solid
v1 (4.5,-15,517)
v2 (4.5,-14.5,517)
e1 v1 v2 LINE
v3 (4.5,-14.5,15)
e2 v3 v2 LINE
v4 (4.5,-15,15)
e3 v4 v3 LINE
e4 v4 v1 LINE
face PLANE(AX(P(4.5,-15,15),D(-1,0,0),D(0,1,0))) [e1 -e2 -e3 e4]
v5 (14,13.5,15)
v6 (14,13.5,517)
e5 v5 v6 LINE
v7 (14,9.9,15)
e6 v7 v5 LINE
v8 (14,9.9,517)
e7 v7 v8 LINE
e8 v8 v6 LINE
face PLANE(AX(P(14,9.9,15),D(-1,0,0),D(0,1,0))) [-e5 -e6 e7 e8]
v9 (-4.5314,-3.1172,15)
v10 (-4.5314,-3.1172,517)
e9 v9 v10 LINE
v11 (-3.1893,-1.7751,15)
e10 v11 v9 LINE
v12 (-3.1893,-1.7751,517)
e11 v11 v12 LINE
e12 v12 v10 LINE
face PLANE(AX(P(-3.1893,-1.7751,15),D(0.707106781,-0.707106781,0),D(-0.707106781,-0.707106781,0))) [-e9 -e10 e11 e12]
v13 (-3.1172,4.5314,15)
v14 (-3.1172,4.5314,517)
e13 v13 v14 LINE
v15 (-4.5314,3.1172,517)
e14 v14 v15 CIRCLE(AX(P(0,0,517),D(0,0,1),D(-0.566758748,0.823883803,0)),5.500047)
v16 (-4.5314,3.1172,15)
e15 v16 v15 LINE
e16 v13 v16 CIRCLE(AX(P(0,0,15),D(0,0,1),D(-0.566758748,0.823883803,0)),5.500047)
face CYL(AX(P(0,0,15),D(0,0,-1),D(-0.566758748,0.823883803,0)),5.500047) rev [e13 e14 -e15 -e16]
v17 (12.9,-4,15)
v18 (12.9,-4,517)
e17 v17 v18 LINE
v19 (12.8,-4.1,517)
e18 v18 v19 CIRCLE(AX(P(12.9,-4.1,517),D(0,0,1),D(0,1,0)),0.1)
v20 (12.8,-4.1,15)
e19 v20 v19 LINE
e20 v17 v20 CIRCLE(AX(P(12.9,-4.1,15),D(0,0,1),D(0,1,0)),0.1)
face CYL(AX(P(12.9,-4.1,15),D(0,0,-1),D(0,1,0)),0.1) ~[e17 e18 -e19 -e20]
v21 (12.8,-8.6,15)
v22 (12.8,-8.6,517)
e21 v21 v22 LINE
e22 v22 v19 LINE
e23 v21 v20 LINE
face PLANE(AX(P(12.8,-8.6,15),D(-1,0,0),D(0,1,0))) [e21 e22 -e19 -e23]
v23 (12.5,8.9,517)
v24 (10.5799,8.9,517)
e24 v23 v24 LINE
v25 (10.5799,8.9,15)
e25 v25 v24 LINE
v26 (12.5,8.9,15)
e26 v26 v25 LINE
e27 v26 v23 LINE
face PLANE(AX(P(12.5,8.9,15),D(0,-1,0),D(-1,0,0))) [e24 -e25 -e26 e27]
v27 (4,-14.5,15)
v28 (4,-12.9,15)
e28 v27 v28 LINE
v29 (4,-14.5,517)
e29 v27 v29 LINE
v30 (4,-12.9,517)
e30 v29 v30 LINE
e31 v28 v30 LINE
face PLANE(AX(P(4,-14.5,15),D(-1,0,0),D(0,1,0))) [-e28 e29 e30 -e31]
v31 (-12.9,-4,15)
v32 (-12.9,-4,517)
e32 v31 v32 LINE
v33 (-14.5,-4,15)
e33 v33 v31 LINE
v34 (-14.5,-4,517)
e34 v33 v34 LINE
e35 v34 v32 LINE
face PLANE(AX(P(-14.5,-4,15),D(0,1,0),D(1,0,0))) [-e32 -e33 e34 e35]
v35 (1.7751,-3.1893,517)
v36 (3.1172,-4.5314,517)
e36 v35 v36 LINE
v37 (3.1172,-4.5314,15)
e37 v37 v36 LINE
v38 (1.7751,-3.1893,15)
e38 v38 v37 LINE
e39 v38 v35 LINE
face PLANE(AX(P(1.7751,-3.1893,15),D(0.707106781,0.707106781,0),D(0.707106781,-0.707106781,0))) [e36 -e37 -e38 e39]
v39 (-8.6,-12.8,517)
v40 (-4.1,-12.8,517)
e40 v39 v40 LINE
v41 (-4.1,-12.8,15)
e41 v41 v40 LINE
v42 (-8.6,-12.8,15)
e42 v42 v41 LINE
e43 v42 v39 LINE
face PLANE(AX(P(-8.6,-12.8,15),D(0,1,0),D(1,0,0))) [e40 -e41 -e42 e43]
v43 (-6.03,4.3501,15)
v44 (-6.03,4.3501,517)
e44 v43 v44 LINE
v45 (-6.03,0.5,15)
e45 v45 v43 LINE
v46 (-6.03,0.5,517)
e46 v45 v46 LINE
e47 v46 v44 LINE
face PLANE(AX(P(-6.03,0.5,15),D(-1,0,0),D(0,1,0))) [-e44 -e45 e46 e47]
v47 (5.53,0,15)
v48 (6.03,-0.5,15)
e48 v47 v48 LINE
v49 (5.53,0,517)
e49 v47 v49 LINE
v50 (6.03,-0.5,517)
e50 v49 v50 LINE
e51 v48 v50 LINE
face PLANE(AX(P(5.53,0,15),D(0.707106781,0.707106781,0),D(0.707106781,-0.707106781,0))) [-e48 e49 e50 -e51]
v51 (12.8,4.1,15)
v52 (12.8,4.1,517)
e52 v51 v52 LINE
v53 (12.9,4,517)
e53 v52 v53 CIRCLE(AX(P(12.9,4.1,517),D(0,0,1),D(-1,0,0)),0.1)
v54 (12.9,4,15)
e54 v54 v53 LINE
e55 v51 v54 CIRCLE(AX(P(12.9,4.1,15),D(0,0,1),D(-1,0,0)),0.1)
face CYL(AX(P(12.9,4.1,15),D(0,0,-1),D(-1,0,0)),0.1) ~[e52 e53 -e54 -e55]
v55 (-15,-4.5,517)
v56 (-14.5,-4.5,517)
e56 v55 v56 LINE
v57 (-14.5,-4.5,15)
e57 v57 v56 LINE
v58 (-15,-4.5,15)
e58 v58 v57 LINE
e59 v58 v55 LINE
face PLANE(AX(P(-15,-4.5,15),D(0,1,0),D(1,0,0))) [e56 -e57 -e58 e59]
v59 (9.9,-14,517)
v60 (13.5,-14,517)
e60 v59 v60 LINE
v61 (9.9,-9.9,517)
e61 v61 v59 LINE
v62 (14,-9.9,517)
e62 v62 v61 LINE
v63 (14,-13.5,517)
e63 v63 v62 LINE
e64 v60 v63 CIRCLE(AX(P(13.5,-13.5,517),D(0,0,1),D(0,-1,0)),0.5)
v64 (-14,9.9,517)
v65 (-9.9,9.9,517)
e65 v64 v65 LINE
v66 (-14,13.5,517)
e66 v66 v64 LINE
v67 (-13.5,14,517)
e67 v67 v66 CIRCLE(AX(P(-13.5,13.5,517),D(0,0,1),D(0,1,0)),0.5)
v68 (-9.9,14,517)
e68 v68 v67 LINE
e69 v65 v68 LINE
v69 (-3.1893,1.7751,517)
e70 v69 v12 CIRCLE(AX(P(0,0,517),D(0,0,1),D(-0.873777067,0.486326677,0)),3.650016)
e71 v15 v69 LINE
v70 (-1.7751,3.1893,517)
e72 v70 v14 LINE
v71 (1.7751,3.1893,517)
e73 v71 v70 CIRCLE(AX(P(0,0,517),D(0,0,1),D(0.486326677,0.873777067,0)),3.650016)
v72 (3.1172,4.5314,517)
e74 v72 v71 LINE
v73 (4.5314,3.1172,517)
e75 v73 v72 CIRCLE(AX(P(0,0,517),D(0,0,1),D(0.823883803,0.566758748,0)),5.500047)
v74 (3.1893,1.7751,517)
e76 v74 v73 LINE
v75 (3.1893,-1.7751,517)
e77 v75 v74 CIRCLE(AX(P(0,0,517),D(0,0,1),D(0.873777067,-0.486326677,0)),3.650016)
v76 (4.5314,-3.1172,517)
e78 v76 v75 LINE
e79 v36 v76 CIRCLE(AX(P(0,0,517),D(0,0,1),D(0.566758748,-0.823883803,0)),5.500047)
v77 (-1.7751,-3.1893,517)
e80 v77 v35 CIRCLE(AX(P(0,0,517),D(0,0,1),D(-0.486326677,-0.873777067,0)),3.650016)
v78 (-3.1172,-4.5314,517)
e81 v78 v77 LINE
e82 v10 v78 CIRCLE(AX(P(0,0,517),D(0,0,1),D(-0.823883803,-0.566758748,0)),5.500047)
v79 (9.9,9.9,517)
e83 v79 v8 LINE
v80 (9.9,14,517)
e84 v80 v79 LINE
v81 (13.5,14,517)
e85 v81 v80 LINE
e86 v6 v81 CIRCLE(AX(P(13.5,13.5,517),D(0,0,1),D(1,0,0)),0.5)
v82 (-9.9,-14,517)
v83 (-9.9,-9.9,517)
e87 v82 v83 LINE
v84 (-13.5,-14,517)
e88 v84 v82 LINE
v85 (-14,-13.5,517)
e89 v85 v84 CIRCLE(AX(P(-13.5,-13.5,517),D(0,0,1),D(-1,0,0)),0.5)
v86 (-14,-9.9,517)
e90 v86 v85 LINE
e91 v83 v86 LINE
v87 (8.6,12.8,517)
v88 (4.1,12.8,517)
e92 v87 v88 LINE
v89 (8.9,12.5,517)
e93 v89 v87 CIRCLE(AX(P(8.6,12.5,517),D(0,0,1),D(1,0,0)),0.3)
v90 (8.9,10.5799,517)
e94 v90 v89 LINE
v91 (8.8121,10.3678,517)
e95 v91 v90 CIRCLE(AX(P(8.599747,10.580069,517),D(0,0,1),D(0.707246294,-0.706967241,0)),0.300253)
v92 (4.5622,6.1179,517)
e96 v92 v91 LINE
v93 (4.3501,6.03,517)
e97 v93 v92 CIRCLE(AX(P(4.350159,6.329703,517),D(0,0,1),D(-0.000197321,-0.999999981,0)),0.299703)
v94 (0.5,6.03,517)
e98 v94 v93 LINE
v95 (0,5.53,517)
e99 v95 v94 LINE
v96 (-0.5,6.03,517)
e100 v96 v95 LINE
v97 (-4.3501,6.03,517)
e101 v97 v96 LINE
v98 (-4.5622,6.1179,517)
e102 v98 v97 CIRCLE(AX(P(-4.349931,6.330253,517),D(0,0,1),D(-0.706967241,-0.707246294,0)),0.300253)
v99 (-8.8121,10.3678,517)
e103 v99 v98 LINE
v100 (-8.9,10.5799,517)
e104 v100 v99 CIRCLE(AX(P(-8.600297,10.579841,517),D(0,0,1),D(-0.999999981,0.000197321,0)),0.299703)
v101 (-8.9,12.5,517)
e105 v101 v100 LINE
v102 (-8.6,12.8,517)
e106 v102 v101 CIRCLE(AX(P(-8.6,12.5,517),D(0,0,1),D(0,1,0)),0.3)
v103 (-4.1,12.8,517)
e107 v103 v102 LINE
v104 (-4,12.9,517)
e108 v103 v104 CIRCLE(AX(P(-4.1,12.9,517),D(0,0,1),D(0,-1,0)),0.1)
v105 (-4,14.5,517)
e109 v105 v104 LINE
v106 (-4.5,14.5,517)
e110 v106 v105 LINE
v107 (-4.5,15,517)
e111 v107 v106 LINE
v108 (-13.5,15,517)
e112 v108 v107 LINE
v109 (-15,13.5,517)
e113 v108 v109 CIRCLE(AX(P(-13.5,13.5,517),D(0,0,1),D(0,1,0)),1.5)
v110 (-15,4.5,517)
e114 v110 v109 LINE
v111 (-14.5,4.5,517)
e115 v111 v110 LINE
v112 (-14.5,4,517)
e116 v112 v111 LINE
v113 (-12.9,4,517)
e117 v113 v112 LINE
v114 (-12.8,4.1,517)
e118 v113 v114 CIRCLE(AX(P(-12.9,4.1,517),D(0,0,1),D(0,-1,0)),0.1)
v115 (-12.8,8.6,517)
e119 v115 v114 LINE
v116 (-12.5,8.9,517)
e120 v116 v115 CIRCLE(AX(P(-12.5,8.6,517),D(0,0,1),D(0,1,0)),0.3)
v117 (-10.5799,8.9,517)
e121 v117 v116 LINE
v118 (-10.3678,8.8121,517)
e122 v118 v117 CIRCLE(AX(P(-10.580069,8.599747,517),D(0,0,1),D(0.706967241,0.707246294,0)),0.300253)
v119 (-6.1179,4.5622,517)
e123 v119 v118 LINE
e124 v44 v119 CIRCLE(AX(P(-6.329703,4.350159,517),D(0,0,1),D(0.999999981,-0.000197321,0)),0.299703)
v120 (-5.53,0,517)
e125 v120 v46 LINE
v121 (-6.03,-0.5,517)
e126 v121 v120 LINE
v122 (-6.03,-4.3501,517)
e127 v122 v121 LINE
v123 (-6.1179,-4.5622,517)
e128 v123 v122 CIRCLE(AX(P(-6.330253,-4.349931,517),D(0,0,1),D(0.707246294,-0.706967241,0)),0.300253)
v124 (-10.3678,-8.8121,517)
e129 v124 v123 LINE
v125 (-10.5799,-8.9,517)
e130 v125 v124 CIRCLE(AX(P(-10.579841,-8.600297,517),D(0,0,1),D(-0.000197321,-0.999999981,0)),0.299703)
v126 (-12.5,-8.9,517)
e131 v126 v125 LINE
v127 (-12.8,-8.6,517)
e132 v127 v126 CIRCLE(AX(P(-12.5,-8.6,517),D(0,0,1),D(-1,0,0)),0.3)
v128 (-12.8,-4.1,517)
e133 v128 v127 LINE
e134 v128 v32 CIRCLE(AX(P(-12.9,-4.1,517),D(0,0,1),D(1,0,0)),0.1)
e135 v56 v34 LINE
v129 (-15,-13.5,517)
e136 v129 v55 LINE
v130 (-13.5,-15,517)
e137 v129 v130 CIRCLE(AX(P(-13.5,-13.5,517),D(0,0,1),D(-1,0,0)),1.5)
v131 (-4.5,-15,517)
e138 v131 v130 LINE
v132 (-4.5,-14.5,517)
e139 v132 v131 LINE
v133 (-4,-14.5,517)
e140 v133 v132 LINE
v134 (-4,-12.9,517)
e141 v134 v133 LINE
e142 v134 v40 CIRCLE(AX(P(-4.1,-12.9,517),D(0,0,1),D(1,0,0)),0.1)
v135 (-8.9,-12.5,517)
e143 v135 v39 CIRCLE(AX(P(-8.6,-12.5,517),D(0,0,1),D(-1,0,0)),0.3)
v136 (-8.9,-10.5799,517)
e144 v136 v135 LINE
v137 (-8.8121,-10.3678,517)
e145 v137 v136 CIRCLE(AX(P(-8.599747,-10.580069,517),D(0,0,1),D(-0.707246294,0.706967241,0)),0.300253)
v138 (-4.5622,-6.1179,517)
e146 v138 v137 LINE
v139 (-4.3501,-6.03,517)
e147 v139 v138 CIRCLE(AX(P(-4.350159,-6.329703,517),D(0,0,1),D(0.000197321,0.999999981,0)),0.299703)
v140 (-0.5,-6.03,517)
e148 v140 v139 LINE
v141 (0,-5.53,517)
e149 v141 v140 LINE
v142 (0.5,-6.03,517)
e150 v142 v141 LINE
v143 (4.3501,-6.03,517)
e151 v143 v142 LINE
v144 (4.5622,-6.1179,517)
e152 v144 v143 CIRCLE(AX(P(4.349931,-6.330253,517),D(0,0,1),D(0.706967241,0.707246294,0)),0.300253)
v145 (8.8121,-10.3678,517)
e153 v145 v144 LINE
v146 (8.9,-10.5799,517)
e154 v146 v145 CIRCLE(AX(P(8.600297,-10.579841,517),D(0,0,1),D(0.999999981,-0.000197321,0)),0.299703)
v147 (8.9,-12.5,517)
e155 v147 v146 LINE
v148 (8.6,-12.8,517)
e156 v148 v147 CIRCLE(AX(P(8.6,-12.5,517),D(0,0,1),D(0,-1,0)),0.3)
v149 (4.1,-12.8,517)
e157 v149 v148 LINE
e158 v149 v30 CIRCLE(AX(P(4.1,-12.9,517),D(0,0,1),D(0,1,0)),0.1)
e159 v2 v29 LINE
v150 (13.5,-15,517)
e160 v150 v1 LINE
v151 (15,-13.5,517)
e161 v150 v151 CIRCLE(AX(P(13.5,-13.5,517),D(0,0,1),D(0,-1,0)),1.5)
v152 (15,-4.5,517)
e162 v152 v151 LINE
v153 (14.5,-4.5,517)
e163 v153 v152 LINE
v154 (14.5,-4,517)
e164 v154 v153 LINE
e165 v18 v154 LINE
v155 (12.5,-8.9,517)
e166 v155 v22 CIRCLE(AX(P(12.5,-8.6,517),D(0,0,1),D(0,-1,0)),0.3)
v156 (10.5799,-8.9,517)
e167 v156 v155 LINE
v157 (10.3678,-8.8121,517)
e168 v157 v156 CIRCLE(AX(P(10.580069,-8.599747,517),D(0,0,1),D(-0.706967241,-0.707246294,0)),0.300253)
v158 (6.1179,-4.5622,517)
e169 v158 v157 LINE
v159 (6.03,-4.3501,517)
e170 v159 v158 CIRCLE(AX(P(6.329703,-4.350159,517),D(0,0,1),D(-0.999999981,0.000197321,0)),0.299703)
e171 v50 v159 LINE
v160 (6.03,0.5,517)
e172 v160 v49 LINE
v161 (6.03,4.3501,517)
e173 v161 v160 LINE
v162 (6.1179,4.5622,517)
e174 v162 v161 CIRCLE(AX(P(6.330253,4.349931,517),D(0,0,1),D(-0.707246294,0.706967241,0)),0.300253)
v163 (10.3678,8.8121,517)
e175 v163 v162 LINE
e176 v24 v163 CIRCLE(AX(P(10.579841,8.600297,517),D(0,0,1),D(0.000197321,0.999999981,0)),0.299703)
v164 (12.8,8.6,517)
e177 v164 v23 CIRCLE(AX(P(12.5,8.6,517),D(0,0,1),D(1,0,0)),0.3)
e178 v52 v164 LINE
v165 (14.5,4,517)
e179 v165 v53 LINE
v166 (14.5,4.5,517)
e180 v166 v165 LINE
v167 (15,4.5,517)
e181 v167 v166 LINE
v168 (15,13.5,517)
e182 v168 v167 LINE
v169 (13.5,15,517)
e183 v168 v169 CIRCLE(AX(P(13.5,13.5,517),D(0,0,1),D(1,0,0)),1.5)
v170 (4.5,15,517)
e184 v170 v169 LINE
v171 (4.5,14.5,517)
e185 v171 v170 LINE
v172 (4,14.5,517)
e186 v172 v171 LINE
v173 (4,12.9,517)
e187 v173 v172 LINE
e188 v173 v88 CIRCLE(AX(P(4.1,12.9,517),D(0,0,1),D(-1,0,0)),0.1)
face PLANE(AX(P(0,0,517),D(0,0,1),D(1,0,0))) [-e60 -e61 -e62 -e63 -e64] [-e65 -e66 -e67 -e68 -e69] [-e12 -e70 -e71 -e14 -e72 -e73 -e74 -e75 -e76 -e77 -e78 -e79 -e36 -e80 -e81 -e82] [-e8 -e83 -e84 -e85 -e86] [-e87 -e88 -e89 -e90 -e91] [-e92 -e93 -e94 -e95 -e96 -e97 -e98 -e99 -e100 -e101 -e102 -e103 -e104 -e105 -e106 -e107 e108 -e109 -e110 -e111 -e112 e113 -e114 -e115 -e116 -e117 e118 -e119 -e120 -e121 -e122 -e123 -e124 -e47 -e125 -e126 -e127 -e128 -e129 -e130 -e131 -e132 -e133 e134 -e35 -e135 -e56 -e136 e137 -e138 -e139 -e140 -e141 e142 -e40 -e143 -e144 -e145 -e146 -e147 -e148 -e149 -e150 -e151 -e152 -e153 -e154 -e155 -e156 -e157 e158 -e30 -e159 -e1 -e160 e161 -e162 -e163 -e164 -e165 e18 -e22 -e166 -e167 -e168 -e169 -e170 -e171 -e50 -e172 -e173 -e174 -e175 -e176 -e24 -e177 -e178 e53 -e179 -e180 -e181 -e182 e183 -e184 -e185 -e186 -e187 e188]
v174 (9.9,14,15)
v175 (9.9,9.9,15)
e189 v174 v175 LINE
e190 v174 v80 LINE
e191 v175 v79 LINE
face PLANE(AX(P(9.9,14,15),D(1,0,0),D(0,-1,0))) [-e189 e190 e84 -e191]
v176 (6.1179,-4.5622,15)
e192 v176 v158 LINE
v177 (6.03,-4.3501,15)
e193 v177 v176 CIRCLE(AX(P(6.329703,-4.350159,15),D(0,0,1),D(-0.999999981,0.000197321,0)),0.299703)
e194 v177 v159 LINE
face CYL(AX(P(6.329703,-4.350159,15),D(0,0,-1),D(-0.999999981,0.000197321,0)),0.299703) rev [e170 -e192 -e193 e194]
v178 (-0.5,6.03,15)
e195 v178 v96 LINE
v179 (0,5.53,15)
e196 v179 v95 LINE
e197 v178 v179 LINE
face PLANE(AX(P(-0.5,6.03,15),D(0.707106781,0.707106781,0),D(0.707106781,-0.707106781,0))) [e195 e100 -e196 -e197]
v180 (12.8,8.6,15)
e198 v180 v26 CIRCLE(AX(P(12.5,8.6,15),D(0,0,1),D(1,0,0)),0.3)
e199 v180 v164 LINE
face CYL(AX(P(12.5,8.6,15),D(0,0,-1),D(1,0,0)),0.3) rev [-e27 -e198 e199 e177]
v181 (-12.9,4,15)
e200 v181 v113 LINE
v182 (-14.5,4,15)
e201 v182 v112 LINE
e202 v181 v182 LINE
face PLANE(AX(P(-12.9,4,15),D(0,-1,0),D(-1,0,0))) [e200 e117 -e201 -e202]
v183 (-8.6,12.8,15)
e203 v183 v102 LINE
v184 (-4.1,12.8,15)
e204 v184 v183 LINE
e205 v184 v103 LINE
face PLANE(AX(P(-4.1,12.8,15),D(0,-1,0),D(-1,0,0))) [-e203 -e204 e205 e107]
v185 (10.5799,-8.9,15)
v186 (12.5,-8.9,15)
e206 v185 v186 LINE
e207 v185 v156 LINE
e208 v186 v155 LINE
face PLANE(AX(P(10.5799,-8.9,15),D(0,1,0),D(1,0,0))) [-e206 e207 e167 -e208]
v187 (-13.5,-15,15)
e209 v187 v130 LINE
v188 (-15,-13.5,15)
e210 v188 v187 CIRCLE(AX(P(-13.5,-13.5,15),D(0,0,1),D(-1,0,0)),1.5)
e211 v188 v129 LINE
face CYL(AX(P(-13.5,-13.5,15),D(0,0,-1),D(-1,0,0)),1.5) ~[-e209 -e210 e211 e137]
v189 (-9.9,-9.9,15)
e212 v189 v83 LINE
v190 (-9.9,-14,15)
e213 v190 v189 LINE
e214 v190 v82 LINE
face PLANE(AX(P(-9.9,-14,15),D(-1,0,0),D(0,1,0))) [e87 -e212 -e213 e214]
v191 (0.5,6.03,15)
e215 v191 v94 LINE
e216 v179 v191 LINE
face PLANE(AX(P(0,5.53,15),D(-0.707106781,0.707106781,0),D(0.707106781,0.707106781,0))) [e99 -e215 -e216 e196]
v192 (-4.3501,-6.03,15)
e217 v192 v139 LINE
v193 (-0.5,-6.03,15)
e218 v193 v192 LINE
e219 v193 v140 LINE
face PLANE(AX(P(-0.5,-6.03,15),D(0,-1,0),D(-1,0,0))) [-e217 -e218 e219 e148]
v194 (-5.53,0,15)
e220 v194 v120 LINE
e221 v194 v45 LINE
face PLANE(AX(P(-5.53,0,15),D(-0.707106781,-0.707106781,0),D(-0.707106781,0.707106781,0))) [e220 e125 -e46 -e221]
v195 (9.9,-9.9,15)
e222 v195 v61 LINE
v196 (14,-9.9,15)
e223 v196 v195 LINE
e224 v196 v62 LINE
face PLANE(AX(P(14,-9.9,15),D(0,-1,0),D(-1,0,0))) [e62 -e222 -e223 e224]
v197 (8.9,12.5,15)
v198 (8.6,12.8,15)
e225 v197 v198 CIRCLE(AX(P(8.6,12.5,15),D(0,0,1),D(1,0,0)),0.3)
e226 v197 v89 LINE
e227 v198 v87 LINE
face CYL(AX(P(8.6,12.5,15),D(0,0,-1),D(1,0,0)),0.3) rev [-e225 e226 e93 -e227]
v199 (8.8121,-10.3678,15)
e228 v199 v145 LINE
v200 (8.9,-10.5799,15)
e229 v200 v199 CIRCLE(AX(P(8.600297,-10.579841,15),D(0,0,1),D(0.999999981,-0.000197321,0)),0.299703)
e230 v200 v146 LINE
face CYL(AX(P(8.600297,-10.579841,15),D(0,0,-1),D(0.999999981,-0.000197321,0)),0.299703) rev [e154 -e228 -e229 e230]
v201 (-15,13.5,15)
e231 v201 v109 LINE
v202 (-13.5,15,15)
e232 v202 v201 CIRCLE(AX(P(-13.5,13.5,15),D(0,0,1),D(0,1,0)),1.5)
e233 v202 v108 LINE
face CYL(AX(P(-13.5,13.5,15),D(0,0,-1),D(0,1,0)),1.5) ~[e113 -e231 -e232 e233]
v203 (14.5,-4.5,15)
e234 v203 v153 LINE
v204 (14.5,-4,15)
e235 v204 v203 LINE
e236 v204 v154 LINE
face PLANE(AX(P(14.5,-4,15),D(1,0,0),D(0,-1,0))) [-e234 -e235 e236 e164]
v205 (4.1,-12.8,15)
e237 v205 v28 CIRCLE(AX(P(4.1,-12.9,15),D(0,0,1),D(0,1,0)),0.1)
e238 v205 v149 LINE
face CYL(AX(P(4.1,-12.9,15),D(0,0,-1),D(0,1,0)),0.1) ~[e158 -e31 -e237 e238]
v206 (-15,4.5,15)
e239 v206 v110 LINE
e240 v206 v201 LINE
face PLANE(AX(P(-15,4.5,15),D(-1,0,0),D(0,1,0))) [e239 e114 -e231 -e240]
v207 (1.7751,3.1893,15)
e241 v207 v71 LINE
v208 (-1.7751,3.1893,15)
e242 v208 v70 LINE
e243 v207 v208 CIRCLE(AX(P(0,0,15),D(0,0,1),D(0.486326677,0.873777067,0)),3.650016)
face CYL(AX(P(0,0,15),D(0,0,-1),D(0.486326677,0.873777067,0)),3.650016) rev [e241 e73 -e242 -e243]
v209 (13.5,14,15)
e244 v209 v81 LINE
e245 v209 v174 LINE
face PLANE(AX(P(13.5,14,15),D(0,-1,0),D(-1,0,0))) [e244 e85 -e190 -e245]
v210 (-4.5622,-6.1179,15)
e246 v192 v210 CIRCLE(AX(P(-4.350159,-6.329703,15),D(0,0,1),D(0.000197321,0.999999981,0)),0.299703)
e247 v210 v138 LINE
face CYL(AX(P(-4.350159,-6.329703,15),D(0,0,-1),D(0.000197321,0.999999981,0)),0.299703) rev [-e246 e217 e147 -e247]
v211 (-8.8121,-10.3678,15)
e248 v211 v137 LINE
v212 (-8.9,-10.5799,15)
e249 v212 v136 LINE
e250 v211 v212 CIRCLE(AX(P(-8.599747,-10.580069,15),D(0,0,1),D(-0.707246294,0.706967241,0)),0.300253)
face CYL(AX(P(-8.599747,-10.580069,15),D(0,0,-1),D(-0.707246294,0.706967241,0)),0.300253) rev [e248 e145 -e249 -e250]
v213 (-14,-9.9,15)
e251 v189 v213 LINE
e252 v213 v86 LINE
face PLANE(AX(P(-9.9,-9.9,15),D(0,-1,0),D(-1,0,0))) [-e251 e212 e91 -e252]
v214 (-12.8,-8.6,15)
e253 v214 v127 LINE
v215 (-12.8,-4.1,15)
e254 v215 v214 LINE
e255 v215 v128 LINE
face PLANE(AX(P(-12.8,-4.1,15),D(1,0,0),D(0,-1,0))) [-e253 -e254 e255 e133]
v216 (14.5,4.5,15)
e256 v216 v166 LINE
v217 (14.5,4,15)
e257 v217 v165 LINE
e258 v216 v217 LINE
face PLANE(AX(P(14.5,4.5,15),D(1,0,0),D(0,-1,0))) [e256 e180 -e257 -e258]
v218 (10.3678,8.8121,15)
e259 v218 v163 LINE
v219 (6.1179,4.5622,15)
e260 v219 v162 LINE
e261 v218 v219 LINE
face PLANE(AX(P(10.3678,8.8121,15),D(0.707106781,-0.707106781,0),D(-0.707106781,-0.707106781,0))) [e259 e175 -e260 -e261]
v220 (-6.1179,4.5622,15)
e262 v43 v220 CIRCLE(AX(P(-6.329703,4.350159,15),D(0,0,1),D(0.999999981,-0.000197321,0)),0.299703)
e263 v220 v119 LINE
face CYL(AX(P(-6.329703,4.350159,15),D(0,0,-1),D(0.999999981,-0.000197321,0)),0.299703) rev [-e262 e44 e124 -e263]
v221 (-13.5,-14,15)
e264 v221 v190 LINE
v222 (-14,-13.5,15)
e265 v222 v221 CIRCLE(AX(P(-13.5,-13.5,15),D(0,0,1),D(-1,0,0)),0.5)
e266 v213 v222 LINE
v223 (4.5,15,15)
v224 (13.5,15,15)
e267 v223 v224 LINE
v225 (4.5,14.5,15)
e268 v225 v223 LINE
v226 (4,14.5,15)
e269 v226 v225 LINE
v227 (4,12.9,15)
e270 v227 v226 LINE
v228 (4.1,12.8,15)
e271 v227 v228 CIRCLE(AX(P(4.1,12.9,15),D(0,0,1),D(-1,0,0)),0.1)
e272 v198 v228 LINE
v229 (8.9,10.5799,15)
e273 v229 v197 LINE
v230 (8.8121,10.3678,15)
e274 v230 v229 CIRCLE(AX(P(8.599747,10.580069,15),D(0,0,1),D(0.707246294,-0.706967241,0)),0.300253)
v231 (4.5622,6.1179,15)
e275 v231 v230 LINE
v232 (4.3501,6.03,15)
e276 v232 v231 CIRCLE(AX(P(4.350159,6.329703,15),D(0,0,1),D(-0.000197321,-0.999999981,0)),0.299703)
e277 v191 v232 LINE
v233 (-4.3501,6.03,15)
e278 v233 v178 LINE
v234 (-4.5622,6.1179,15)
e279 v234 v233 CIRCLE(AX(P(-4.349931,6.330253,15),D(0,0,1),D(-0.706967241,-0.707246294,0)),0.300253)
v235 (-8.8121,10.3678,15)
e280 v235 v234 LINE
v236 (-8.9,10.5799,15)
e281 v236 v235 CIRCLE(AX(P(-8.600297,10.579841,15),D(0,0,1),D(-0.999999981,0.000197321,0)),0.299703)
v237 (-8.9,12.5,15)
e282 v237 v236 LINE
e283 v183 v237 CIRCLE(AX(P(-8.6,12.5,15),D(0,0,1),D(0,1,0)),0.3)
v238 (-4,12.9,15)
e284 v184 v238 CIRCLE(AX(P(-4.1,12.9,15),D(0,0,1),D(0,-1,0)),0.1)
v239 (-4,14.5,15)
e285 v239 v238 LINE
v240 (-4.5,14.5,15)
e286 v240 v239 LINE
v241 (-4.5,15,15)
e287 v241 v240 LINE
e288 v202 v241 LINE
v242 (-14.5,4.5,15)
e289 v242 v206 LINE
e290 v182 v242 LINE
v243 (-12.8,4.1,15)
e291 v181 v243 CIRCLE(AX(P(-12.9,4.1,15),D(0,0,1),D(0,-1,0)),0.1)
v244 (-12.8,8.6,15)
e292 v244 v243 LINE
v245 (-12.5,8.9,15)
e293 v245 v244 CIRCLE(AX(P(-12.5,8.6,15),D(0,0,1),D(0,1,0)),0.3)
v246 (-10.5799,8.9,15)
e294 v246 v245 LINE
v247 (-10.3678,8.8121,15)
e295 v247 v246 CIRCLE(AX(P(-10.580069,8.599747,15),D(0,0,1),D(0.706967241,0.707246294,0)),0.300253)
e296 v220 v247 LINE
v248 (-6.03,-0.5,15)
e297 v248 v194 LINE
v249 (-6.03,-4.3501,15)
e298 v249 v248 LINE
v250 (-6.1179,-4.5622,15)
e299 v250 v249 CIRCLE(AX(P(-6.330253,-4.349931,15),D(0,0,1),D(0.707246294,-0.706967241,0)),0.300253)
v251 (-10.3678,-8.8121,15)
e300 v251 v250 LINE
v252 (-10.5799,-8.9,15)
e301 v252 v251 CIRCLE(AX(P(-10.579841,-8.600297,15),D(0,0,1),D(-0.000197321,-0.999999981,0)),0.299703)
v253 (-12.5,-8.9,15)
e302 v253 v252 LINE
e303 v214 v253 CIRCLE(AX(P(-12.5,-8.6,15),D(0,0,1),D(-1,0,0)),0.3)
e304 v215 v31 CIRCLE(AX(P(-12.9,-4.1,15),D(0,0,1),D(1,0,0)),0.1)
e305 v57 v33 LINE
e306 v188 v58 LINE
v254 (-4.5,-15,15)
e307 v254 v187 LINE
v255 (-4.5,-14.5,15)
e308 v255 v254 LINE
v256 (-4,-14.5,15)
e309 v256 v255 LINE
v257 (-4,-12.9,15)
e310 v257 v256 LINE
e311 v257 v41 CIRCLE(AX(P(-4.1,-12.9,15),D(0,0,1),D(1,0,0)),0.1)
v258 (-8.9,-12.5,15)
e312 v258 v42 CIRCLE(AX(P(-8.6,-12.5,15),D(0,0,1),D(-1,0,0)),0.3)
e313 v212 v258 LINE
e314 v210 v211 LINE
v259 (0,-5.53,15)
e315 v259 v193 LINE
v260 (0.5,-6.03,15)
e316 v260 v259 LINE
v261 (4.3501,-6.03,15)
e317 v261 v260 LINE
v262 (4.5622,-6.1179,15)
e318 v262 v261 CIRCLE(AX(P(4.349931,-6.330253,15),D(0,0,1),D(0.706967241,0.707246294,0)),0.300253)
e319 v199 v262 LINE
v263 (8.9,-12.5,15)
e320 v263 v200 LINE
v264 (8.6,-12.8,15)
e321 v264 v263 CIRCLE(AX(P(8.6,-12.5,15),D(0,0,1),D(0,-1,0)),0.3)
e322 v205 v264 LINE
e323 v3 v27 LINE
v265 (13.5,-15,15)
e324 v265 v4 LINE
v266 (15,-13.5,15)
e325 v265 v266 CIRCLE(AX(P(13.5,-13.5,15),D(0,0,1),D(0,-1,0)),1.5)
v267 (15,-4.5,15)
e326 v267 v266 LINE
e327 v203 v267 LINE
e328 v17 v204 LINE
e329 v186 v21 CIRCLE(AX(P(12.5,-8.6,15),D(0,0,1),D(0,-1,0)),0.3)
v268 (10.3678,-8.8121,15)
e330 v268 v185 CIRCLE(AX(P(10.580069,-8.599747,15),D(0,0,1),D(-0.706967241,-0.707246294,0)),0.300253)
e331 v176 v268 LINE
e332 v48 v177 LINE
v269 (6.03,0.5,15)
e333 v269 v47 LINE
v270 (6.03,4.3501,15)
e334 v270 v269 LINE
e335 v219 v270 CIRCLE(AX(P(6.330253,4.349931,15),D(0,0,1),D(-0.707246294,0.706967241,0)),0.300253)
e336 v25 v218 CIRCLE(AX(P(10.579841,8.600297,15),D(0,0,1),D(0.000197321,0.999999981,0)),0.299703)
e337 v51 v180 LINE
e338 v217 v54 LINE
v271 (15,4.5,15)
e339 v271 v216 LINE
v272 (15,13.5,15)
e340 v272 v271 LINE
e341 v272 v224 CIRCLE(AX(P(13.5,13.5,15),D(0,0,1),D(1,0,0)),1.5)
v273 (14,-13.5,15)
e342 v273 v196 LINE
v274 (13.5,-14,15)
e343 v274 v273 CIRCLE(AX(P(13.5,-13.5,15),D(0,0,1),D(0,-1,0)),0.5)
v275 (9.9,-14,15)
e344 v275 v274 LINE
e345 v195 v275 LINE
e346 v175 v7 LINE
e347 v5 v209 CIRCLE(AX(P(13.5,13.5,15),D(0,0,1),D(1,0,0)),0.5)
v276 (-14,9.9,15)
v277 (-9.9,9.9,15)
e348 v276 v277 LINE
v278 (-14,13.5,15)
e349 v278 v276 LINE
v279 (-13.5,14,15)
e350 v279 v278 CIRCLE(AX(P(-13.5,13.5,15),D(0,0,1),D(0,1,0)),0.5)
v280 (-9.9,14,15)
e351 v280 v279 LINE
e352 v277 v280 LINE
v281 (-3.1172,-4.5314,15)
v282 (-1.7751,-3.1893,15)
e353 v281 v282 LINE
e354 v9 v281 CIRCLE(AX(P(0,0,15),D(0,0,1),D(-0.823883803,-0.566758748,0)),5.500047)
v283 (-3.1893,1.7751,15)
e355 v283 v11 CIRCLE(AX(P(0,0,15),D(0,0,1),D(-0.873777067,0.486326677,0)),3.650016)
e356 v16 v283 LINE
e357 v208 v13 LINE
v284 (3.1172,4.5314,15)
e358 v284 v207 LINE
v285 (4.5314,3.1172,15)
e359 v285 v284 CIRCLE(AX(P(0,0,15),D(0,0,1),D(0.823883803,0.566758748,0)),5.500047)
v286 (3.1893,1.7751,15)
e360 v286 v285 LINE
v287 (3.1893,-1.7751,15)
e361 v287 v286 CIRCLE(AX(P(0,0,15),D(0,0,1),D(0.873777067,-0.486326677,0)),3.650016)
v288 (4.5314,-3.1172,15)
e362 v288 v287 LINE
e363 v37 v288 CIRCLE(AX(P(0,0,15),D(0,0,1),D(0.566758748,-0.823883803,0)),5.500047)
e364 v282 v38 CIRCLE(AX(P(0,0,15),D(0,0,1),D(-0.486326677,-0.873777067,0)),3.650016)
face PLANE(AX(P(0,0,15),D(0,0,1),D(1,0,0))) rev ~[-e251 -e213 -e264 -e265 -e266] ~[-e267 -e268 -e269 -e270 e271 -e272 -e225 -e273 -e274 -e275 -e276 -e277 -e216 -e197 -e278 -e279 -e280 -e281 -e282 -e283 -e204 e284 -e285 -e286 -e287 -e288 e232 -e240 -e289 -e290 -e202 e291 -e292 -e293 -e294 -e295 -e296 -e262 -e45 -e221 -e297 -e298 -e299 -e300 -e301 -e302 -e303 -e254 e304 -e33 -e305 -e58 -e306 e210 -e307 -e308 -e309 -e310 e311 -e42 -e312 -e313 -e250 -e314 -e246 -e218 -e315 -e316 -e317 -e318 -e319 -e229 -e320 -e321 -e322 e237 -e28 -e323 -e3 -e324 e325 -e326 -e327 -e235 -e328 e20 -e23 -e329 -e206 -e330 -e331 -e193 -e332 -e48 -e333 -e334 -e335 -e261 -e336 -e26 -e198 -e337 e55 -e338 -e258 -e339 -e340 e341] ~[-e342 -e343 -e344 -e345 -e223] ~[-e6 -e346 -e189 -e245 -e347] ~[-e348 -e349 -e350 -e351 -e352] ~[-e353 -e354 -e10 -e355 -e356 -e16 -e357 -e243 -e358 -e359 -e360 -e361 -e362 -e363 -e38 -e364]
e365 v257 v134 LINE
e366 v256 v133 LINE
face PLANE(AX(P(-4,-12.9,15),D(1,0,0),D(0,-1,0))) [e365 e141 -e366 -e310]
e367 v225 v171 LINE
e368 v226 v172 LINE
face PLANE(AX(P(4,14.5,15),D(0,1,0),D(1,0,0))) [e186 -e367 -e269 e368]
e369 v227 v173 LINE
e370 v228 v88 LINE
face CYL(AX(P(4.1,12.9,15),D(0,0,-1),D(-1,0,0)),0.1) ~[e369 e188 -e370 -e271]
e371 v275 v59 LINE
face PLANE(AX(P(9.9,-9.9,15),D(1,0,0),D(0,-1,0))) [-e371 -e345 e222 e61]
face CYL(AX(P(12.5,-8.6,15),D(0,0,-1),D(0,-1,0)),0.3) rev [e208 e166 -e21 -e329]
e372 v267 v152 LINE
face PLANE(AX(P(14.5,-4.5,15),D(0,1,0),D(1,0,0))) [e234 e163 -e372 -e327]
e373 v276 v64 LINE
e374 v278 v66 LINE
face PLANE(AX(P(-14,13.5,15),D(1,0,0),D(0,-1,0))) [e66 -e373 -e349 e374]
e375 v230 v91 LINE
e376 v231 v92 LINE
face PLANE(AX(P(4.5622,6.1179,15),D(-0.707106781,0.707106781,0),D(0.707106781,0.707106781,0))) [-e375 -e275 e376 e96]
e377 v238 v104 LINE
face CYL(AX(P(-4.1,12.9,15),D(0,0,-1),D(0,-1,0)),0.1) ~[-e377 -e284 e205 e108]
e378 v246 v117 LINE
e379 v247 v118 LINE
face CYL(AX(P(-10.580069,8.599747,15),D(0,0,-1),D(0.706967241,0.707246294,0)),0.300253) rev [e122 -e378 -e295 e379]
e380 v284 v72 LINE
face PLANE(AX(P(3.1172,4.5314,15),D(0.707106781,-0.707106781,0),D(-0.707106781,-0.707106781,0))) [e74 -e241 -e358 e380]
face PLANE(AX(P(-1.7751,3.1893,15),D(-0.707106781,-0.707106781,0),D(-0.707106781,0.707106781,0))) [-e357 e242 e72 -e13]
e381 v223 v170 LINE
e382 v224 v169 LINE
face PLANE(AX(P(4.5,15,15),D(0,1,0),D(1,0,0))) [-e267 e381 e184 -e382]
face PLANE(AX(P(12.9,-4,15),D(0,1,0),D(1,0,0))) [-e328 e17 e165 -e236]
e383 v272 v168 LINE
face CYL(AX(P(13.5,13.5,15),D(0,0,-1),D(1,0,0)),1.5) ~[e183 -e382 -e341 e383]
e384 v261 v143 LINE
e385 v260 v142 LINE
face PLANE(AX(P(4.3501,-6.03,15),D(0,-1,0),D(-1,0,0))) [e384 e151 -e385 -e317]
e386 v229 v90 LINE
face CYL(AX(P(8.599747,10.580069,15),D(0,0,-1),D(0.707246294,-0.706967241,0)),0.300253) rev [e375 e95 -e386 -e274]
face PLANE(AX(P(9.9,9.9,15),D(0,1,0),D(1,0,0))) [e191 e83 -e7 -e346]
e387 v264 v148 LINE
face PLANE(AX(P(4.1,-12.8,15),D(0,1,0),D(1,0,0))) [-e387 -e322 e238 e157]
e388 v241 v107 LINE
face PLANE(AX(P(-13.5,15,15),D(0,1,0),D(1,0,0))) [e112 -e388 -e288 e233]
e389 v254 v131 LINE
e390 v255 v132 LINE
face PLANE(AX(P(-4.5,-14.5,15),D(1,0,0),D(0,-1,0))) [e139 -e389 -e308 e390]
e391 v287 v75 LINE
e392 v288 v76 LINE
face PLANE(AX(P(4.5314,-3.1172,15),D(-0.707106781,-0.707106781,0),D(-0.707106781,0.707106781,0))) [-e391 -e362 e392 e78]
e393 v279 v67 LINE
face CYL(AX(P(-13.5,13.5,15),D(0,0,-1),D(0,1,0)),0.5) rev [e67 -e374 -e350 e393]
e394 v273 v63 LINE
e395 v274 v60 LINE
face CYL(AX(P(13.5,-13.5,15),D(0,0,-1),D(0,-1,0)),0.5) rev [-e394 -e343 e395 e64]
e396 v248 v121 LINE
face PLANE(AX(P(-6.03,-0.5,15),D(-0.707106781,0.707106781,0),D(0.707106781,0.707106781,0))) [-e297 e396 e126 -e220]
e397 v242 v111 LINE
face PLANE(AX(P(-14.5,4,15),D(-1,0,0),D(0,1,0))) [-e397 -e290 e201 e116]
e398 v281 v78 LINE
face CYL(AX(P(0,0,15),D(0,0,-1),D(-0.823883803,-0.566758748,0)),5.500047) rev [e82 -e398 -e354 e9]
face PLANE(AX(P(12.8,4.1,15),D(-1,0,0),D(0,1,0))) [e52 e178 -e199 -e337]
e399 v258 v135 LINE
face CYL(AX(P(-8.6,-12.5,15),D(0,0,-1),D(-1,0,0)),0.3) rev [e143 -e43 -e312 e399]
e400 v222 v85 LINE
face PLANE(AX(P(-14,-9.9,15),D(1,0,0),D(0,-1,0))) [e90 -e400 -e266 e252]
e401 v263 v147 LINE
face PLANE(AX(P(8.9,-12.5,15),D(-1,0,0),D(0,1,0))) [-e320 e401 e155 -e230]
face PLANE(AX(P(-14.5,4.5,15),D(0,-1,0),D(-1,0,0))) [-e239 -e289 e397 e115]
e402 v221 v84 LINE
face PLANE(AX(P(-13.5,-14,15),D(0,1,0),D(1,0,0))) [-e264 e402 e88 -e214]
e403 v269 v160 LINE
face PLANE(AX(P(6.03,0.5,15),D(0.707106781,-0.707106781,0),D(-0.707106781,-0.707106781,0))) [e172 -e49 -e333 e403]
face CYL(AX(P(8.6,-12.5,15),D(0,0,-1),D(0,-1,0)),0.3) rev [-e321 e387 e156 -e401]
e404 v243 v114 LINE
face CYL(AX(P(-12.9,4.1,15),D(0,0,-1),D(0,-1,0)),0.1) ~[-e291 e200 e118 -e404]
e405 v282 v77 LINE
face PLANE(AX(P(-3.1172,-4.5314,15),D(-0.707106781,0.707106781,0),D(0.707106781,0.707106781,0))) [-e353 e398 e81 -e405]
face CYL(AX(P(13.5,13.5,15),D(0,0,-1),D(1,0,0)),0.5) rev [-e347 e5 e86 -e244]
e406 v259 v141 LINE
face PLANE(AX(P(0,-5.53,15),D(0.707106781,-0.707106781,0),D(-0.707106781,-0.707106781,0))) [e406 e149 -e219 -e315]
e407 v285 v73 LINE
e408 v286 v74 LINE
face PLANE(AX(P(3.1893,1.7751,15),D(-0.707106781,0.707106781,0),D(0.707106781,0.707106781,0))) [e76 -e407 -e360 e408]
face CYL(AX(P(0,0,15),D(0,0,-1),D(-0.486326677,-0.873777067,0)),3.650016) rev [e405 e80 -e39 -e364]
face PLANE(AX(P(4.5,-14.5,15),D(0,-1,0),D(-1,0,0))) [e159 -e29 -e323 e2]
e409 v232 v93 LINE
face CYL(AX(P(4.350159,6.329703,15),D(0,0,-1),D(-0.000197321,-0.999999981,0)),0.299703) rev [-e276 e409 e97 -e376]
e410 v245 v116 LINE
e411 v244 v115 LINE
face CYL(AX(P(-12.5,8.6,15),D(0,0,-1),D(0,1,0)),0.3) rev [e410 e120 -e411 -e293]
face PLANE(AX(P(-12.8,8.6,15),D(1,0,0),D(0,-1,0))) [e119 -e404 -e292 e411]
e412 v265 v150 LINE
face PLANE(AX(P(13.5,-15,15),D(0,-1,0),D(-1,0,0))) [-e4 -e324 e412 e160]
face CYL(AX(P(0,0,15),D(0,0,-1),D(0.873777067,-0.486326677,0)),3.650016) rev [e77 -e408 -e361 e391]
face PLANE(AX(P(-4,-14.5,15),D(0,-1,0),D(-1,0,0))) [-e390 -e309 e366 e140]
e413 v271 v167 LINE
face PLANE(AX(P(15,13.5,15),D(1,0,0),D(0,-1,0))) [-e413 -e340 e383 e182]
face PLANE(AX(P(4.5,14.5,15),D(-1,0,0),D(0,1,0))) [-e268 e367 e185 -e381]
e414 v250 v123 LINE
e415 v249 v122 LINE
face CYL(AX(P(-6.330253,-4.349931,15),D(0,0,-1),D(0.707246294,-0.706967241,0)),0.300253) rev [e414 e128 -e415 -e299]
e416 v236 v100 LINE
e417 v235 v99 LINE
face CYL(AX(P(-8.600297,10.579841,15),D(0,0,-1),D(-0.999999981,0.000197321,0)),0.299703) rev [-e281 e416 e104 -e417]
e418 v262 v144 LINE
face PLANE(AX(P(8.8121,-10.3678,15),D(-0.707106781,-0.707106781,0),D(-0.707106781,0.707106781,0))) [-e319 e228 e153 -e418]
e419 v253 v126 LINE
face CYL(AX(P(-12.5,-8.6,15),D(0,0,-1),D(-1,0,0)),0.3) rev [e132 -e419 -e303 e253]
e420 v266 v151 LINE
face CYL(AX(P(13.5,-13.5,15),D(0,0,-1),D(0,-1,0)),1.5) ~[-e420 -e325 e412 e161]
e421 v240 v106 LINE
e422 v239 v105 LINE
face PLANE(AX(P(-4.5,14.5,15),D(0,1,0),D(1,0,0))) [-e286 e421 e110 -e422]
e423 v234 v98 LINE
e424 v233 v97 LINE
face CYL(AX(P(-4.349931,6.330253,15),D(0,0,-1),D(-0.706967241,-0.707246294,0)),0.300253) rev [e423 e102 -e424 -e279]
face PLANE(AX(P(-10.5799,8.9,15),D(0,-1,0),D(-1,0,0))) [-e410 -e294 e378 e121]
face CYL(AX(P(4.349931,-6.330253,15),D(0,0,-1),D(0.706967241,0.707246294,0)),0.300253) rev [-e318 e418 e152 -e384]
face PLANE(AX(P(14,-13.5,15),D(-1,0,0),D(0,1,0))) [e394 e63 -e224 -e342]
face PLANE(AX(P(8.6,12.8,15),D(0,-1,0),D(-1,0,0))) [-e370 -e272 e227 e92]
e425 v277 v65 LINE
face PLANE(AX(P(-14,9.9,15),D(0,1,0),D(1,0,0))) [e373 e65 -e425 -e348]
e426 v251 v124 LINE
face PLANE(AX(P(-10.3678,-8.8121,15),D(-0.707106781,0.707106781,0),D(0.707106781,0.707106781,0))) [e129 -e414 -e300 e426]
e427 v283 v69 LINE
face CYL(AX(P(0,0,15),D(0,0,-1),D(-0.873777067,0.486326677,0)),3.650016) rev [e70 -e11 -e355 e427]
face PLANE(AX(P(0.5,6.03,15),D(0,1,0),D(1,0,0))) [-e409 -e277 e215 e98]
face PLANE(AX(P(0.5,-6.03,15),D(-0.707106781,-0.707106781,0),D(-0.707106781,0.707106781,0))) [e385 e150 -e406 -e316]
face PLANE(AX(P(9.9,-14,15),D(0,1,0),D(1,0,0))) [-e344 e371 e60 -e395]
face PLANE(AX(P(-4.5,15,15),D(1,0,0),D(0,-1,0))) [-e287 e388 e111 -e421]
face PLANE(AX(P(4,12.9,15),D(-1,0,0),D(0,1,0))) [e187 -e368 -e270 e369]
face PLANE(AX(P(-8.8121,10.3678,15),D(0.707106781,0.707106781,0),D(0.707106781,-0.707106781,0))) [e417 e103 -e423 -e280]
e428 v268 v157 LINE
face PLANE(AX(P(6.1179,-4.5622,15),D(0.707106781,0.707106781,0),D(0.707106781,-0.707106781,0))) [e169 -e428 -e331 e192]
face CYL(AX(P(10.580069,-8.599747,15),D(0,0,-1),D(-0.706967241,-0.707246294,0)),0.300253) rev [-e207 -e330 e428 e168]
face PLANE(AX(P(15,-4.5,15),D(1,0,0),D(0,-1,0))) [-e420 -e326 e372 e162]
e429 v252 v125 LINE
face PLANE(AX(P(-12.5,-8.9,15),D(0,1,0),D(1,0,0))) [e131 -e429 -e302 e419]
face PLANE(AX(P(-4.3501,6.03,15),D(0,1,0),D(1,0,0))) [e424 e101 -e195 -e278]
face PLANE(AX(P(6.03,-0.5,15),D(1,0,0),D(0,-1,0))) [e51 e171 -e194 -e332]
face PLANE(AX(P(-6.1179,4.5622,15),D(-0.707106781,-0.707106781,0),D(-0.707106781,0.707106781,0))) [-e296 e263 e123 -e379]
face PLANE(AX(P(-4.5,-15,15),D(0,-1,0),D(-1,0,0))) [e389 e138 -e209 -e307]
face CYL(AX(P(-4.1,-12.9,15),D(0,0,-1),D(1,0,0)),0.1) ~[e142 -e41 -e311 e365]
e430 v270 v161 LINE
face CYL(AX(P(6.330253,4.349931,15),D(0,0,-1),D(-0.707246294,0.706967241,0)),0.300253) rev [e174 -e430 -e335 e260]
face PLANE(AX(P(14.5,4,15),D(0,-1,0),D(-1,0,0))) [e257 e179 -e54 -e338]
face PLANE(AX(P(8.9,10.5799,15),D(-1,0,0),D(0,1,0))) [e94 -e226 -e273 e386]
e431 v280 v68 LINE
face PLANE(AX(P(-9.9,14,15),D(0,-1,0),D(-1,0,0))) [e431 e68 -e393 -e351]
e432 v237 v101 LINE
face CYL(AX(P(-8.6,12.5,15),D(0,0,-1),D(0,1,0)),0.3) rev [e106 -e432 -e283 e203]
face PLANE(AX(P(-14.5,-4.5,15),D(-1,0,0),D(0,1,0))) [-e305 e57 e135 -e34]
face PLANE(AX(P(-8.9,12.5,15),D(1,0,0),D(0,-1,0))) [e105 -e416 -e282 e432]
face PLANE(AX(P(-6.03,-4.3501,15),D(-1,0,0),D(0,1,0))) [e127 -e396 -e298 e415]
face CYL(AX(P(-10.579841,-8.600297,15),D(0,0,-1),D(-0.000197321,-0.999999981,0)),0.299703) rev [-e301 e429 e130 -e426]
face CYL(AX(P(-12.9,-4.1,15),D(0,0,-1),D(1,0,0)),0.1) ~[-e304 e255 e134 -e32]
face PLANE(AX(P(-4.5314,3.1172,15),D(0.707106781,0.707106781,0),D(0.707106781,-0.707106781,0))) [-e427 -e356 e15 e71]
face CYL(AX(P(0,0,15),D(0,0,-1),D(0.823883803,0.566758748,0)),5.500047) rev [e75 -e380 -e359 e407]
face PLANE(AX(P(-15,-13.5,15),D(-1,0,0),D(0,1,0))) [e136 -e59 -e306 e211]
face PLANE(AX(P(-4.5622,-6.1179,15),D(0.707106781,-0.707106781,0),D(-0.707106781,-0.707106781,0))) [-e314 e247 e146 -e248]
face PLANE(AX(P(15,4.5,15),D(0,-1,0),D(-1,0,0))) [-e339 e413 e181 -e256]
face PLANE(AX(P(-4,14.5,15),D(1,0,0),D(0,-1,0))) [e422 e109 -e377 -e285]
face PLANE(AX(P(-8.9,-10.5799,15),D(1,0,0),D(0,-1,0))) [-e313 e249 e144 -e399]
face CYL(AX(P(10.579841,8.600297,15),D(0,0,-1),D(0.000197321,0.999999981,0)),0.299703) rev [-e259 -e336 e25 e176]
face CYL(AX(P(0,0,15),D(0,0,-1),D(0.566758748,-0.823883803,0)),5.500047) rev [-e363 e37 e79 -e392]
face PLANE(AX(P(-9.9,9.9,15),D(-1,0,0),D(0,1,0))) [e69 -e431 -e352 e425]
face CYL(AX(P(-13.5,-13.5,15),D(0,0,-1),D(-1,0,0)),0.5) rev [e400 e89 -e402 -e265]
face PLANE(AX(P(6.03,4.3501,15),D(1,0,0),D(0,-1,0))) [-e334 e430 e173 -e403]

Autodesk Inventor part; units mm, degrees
ref_plane "Płaszczyzna początkowa" through (0, 0, 15) normal (0, 0, 1) x (1, 0, 0)
ref_plane "Płaszczyzna końcowa" through (0, 0, 517) normal (0, 0, 1) x (1, 0, 0)
sketch "Szkic" plane through (0, 0, 0) normal (0, 0, 1) x (1, 0, 0)
  line L0 (1.7751, -3.1893) -> (3.1172, -4.5314)
  arc A0 (-1.7751, -3.1893) -> (1.7751, -3.1893) centre (0, 0) ccw
  line L1 (-3.1172, -4.5314) -> (-1.7751, -3.1893)
  arc A1 (-4.5314, -3.1172) -> (-3.1172, -4.5314) centre (0, 0) ccw
  line L2 (-3.1893, -1.7751) -> (-4.5314, -3.1172)
  arc A2 (-3.1893, 1.7751) -> (-3.1893, -1.7751) centre (0, 0) ccw
  line L3 (-4.5314, 3.1172) -> (-3.1893, 1.7751)
  arc A3 (-3.1172, 4.5314) -> (-4.5314, 3.1172) centre (0, 0) ccw
  line L4 (-1.7751, 3.1893) -> (-3.1172, 4.5314)
  arc A4 (1.7751, 3.1893) -> (-1.7751, 3.1893) centre (0, 0) ccw
  line L5 (3.1172, 4.5314) -> (1.7751, 3.1893)
  arc A5 (4.5314, 3.1172) -> (3.1172, 4.5314) centre (0, 0) ccw
  line L6 (3.1893, 1.7751) -> (4.5314, 3.1172)
  arc A6 (3.1893, -1.7751) -> (3.1893, 1.7751) centre (0, 0) ccw
  line L7 (4.5314, -3.1172) -> (3.1893, -1.7751)
  arc A7 (3.1172, -4.5314) -> (4.5314, -3.1172) centre (0, 0) ccw
  line L8 (14, -13.5) -> (14, -9.9)
  arc A8 (13.5, -14) -> (14, -13.5) centre (13.5, -13.5) ccw
  line L9 (9.9, -14) -> (13.5, -14)
  line L10 (9.9, -9.9) -> (9.9, -14)
  line L11 (14, -9.9) -> (9.9, -9.9)
  line L12 (-9.9, -9.9) -> (-14, -9.9)
  line L13 (-9.9, -14) -> (-9.9, -9.9)
  line L14 (-13.5, -14) -> (-9.9, -14)
  arc A9 (-14, -13.5) -> (-13.5, -14) centre (-13.5, -13.5) ccw
  line L15 (-14, -9.9) -> (-14, -13.5)
  line L16 (14, 9.9) -> (14, 13.5)
  line L17 (9.9, 9.9) -> (14, 9.9)
  line L18 (9.9, 14) -> (9.9, 9.9)
  line L19 (13.5, 14) -> (9.9, 14)
  arc A10 (14, 13.5) -> (13.5, 14) centre (13.5, 13.5) ccw
  line L20 (-14, 9.9) -> (-9.9, 9.9)
  line L21 (-14, 13.5) -> (-14, 9.9)
  arc A11 (-13.5, 14) -> (-14, 13.5) centre (-13.5, 13.5) ccw
  line L22 (-9.9, 14) -> (-13.5, 14)
  line L23 (-9.9, 9.9) -> (-9.9, 14)
  line L24 (13.5, -15) -> (4.5, -15)
  arc A12 (13.5, -15) -> (15, -13.5) centre (13.5, -13.5) ccw
  line L25 (15, -4.5) -> (15, -13.5)
  line L26 (14.5, -4.5) -> (15, -4.5)
  line L27 (14.5, -4) -> (14.5, -4.5)
  line L28 (12.9, -4) -> (14.5, -4)
  arc A13 (12.9, -4) -> (12.8, -4.1) centre (12.9, -4.1) ccw
  line L29 (12.8, -8.6) -> (12.8, -4.1)
  arc A14 (12.5, -8.9) -> (12.8, -8.6) centre (12.5, -8.6) ccw
  line L30 (10.5799, -8.9) -> (12.5, -8.9)
  arc A15 (10.3678, -8.8121) -> (10.5799, -8.9) centre (10.5799, -8.6) ccw
  line L31 (6.1179, -4.5622) -> (10.3678, -8.8121)
  arc A16 (6.03, -4.3501) -> (6.1179, -4.5622) centre (6.33, -4.3501) ccw
  line L32 (6.03, -0.5) -> (6.03, -4.3501)
  line L33 (5.53, 0) -> (6.03, -0.5)
  line L34 (6.03, 0.5) -> (5.53, 0)
  line L35 (6.03, 4.3501) -> (6.03, 0.5)
  arc A17 (6.1179, 4.5622) -> (6.03, 4.3501) centre (6.33, 4.3501) ccw
  line L36 (10.3678, 8.8121) -> (6.1179, 4.5622)
  arc A18 (10.5799, 8.9) -> (10.3678, 8.8121) centre (10.5799, 8.6) ccw
  line L37 (12.5, 8.9) -> (10.5799, 8.9)
  arc A19 (12.8, 8.6) -> (12.5, 8.9) centre (12.5, 8.6) ccw
  line L38 (12.8, 4.1) -> (12.8, 8.6)
  arc A20 (12.8, 4.1) -> (12.9, 4) centre (12.9, 4.1) ccw
  line L39 (14.5, 4) -> (12.9, 4)
  line L40 (14.5, 4.5) -> (14.5, 4)
  line L41 (15, 4.5) -> (14.5, 4.5)
  line L42 (15, 13.5) -> (15, 4.5)
  arc A21 (15, 13.5) -> (13.5, 15) centre (13.5, 13.5) ccw
  line L43 (4.5, 15) -> (13.5, 15)
  line L44 (4.5, 14.5) -> (4.5, 15)
  line L45 (4, 14.5) -> (4.5, 14.5)
  line L46 (4, 12.9) -> (4, 14.5)
  arc A22 (4, 12.9) -> (4.1, 12.8) centre (4.1, 12.9) ccw
  line L47 (8.6, 12.8) -> (4.1, 12.8)
  arc A23 (8.9, 12.5) -> (8.6, 12.8) centre (8.6, 12.5) ccw
  line L48 (8.9, 10.5799) -> (8.9, 12.5)
  arc A24 (8.8121, 10.3678) -> (8.9, 10.5799) centre (8.6, 10.5799) ccw
  line L49 (4.5622, 6.1179) -> (8.8121, 10.3678)
  arc A25 (4.3501, 6.03) -> (4.5622, 6.1179) centre (4.3501, 6.33) ccw
  line L50 (0.5, 6.03) -> (4.3501, 6.03)
  line L51 (0, 5.53) -> (0.5, 6.03)
  line L52 (-0.5, 6.03) -> (0, 5.53)
  line L53 (-4.3501, 6.03) -> (-0.5, 6.03)
  arc A26 (-4.5622, 6.1179) -> (-4.3501, 6.03) centre (-4.3501, 6.33) ccw
  line L54 (-8.8121, 10.3678) -> (-4.5622, 6.1179)
  arc A27 (-8.9, 10.5799) -> (-8.8121, 10.3678) centre (-8.6, 10.5799) ccw
  line L55 (-8.9, 12.5) -> (-8.9, 10.5799)
  arc A28 (-8.6, 12.8) -> (-8.9, 12.5) centre (-8.6, 12.5) ccw
  line L56 (-4.1, 12.8) -> (-8.6, 12.8)
  arc A29 (-4.1, 12.8) -> (-4, 12.9) centre (-4.1, 12.9) ccw
  line L57 (-4, 14.5) -> (-4, 12.9)
  line L58 (-4.5, 14.5) -> (-4, 14.5)
  line L59 (-4.5, 15) -> (-4.5, 14.5)
  line L60 (-13.5, 15) -> (-4.5, 15)
  arc A30 (-13.5, 15) -> (-15, 13.5) centre (-13.5, 13.5) ccw
  line L61 (-15, 4.5) -> (-15, 13.5)
  line L62 (-14.5, 4.5) -> (-15, 4.5)
  line L63 (-14.5, 4) -> (-14.5, 4.5)
  line L64 (-12.9, 4) -> (-14.5, 4)
  arc A31 (-12.9, 4) -> (-12.8, 4.1) centre (-12.9, 4.1) ccw
  line L65 (-12.8, 8.6) -> (-12.8, 4.1)
  arc A32 (-12.5, 8.9) -> (-12.8, 8.6) centre (-12.5, 8.6) ccw
  line L66 (-10.5799, 8.9) -> (-12.5, 8.9)
  arc A33 (-10.3678, 8.8121) -> (-10.5799, 8.9) centre (-10.5799, 8.6) ccw
  line L67 (-6.1179, 4.5622) -> (-10.3678, 8.8121)
  arc A34 (-6.03, 4.3501) -> (-6.1179, 4.5622) centre (-6.33, 4.3501) ccw
  line L68 (-6.03, 0.5) -> (-6.03, 4.3501)
  line L69 (-5.53, 0) -> (-6.03, 0.5)
  line L70 (-6.03, -0.5) -> (-5.53, 0)
  line L71 (-6.03, -4.3501) -> (-6.03, -0.5)
  arc A35 (-6.1179, -4.5622) -> (-6.03, -4.3501) centre (-6.33, -4.3501) ccw
  line L72 (-10.3678, -8.8121) -> (-6.1179, -4.5622)
  arc A36 (-10.5799, -8.9) -> (-10.3678, -8.8121) centre (-10.5799, -8.6) ccw
  line L73 (-12.5, -8.9) -> (-10.5799, -8.9)
  arc A37 (-12.8, -8.6) -> (-12.5, -8.9) centre (-12.5, -8.6) ccw
  line L74 (-12.8, -4.1) -> (-12.8, -8.6)
  arc A38 (-12.8, -4.1) -> (-12.9, -4) centre (-12.9, -4.1) ccw
  line L75 (-14.5, -4) -> (-12.9, -4)
  line L76 (-14.5, -4.5) -> (-14.5, -4)
  line L77 (-15, -4.5) -> (-14.5, -4.5)
  line L78 (-15, -13.5) -> (-15, -4.5)
  arc A39 (-15, -13.5) -> (-13.5, -15) centre (-13.5, -13.5) ccw
  line L79 (-4.5, -15) -> (-13.5, -15)
  line L80 (-4.5, -14.5) -> (-4.5, -15)
  line L81 (-4, -14.5) -> (-4.5, -14.5)
  line L82 (-4, -12.9) -> (-4, -14.5)
  arc A40 (-4, -12.9) -> (-4.1, -12.8) centre (-4.1, -12.9) ccw
  line L83 (-8.6, -12.8) -> (-4.1, -12.8)
  arc A41 (-8.9, -12.5) -> (-8.6, -12.8) centre (-8.6, -12.5) ccw
  line L84 (-8.9, -10.5799) -> (-8.9, -12.5)
  arc A42 (-8.8121, -10.3678) -> (-8.9, -10.5799) centre (-8.6, -10.5799) ccw
  line L85 (-4.5622, -6.1179) -> (-8.8121, -10.3678)
  arc A43 (-4.3501, -6.03) -> (-4.5622, -6.1179) centre (-4.3501, -6.33) ccw
  line L86 (-0.5, -6.03) -> (-4.3501, -6.03)
  line L87 (0, -5.53) -> (-0.5, -6.03)
  line L88 (0.5, -6.03) -> (0, -5.53)
  line L89 (4.3501, -6.03) -> (0.5, -6.03)
  arc A44 (4.5622, -6.1179) -> (4.3501, -6.03) centre (4.3501, -6.33) ccw
  line L90 (8.8121, -10.3678) -> (4.5622, -6.1179)
  arc A45 (8.9, -10.5799) -> (8.8121, -10.3678) centre (8.6, -10.5799) ccw
  line L91 (8.9, -12.5) -> (8.9, -10.5799)
  arc A46 (8.6, -12.8) -> (8.9, -12.5) centre (8.6, -12.5) ccw
  line L92 (4.1, -12.8) -> (8.6, -12.8)
  arc A47 (4.1, -12.8) -> (4, -12.9) centre (4.1, -12.9) ccw
  line L93 (4, -14.5) -> (4, -12.9)
  line L94 (4.5, -14.5) -> (4, -14.5)
  line L95 (4.5, -15) -> (4.5, -14.5)
  point P0 (15, -15)
extrude "Bryła" add sketch "Szkic" along normal up to surface (502 mm away) from surface at 15
sketch "Szkic2" plane through (0, 0, 0) normal (0, 0, 1) x (1, 0, 0)
  line L0 (0, 0) -> (10, 0)
ref_plane "Płaszczyzna konstrukcyjna3" through (0, 0, 0) normal (0, -1, 0) x (1, 0, 0)
sketch "Szkic3" plane through (0, 0, 0) normal (0, -1, 0) x (1, 0, 0)
  line L0 (-2, 15) -> (12, 15)
  line L1 (-2, 517) -> (12, 517)
  dimension "d7" = 502
ref_plane "Płaszczyzna konstrukcyjna4" through (4.5, -30, 15) normal (0, 0, -1) x (-1, 0, 0)
split "Podział1" plane through (4.5, -30, 15) removes the side toward (0, 0, -1)
ref_plane "Płaszczyzna konstrukcyjna5" through (13.5, -45, 517) normal (0, 0, 1) x (1, 0, 0)
split "Podział2" plane through (13.5, -45, 517) removes the side toward (0, 0, 1)
equation "\"G_OFFSET_START\" = -15"
equation "\"G_OFFSET_END\" = -15"
equation "\"d2\" = -G_OFFSET_START"
equation "\"d3\" = Length + G_OFFSET_END"
equation "\"G_L\" = d7"
equation "\"Length\" = 532"
properties part number "COTS_ARMA_AR3703_30x30_Alu_Extr_00000005" material "Aluminium 6061"
